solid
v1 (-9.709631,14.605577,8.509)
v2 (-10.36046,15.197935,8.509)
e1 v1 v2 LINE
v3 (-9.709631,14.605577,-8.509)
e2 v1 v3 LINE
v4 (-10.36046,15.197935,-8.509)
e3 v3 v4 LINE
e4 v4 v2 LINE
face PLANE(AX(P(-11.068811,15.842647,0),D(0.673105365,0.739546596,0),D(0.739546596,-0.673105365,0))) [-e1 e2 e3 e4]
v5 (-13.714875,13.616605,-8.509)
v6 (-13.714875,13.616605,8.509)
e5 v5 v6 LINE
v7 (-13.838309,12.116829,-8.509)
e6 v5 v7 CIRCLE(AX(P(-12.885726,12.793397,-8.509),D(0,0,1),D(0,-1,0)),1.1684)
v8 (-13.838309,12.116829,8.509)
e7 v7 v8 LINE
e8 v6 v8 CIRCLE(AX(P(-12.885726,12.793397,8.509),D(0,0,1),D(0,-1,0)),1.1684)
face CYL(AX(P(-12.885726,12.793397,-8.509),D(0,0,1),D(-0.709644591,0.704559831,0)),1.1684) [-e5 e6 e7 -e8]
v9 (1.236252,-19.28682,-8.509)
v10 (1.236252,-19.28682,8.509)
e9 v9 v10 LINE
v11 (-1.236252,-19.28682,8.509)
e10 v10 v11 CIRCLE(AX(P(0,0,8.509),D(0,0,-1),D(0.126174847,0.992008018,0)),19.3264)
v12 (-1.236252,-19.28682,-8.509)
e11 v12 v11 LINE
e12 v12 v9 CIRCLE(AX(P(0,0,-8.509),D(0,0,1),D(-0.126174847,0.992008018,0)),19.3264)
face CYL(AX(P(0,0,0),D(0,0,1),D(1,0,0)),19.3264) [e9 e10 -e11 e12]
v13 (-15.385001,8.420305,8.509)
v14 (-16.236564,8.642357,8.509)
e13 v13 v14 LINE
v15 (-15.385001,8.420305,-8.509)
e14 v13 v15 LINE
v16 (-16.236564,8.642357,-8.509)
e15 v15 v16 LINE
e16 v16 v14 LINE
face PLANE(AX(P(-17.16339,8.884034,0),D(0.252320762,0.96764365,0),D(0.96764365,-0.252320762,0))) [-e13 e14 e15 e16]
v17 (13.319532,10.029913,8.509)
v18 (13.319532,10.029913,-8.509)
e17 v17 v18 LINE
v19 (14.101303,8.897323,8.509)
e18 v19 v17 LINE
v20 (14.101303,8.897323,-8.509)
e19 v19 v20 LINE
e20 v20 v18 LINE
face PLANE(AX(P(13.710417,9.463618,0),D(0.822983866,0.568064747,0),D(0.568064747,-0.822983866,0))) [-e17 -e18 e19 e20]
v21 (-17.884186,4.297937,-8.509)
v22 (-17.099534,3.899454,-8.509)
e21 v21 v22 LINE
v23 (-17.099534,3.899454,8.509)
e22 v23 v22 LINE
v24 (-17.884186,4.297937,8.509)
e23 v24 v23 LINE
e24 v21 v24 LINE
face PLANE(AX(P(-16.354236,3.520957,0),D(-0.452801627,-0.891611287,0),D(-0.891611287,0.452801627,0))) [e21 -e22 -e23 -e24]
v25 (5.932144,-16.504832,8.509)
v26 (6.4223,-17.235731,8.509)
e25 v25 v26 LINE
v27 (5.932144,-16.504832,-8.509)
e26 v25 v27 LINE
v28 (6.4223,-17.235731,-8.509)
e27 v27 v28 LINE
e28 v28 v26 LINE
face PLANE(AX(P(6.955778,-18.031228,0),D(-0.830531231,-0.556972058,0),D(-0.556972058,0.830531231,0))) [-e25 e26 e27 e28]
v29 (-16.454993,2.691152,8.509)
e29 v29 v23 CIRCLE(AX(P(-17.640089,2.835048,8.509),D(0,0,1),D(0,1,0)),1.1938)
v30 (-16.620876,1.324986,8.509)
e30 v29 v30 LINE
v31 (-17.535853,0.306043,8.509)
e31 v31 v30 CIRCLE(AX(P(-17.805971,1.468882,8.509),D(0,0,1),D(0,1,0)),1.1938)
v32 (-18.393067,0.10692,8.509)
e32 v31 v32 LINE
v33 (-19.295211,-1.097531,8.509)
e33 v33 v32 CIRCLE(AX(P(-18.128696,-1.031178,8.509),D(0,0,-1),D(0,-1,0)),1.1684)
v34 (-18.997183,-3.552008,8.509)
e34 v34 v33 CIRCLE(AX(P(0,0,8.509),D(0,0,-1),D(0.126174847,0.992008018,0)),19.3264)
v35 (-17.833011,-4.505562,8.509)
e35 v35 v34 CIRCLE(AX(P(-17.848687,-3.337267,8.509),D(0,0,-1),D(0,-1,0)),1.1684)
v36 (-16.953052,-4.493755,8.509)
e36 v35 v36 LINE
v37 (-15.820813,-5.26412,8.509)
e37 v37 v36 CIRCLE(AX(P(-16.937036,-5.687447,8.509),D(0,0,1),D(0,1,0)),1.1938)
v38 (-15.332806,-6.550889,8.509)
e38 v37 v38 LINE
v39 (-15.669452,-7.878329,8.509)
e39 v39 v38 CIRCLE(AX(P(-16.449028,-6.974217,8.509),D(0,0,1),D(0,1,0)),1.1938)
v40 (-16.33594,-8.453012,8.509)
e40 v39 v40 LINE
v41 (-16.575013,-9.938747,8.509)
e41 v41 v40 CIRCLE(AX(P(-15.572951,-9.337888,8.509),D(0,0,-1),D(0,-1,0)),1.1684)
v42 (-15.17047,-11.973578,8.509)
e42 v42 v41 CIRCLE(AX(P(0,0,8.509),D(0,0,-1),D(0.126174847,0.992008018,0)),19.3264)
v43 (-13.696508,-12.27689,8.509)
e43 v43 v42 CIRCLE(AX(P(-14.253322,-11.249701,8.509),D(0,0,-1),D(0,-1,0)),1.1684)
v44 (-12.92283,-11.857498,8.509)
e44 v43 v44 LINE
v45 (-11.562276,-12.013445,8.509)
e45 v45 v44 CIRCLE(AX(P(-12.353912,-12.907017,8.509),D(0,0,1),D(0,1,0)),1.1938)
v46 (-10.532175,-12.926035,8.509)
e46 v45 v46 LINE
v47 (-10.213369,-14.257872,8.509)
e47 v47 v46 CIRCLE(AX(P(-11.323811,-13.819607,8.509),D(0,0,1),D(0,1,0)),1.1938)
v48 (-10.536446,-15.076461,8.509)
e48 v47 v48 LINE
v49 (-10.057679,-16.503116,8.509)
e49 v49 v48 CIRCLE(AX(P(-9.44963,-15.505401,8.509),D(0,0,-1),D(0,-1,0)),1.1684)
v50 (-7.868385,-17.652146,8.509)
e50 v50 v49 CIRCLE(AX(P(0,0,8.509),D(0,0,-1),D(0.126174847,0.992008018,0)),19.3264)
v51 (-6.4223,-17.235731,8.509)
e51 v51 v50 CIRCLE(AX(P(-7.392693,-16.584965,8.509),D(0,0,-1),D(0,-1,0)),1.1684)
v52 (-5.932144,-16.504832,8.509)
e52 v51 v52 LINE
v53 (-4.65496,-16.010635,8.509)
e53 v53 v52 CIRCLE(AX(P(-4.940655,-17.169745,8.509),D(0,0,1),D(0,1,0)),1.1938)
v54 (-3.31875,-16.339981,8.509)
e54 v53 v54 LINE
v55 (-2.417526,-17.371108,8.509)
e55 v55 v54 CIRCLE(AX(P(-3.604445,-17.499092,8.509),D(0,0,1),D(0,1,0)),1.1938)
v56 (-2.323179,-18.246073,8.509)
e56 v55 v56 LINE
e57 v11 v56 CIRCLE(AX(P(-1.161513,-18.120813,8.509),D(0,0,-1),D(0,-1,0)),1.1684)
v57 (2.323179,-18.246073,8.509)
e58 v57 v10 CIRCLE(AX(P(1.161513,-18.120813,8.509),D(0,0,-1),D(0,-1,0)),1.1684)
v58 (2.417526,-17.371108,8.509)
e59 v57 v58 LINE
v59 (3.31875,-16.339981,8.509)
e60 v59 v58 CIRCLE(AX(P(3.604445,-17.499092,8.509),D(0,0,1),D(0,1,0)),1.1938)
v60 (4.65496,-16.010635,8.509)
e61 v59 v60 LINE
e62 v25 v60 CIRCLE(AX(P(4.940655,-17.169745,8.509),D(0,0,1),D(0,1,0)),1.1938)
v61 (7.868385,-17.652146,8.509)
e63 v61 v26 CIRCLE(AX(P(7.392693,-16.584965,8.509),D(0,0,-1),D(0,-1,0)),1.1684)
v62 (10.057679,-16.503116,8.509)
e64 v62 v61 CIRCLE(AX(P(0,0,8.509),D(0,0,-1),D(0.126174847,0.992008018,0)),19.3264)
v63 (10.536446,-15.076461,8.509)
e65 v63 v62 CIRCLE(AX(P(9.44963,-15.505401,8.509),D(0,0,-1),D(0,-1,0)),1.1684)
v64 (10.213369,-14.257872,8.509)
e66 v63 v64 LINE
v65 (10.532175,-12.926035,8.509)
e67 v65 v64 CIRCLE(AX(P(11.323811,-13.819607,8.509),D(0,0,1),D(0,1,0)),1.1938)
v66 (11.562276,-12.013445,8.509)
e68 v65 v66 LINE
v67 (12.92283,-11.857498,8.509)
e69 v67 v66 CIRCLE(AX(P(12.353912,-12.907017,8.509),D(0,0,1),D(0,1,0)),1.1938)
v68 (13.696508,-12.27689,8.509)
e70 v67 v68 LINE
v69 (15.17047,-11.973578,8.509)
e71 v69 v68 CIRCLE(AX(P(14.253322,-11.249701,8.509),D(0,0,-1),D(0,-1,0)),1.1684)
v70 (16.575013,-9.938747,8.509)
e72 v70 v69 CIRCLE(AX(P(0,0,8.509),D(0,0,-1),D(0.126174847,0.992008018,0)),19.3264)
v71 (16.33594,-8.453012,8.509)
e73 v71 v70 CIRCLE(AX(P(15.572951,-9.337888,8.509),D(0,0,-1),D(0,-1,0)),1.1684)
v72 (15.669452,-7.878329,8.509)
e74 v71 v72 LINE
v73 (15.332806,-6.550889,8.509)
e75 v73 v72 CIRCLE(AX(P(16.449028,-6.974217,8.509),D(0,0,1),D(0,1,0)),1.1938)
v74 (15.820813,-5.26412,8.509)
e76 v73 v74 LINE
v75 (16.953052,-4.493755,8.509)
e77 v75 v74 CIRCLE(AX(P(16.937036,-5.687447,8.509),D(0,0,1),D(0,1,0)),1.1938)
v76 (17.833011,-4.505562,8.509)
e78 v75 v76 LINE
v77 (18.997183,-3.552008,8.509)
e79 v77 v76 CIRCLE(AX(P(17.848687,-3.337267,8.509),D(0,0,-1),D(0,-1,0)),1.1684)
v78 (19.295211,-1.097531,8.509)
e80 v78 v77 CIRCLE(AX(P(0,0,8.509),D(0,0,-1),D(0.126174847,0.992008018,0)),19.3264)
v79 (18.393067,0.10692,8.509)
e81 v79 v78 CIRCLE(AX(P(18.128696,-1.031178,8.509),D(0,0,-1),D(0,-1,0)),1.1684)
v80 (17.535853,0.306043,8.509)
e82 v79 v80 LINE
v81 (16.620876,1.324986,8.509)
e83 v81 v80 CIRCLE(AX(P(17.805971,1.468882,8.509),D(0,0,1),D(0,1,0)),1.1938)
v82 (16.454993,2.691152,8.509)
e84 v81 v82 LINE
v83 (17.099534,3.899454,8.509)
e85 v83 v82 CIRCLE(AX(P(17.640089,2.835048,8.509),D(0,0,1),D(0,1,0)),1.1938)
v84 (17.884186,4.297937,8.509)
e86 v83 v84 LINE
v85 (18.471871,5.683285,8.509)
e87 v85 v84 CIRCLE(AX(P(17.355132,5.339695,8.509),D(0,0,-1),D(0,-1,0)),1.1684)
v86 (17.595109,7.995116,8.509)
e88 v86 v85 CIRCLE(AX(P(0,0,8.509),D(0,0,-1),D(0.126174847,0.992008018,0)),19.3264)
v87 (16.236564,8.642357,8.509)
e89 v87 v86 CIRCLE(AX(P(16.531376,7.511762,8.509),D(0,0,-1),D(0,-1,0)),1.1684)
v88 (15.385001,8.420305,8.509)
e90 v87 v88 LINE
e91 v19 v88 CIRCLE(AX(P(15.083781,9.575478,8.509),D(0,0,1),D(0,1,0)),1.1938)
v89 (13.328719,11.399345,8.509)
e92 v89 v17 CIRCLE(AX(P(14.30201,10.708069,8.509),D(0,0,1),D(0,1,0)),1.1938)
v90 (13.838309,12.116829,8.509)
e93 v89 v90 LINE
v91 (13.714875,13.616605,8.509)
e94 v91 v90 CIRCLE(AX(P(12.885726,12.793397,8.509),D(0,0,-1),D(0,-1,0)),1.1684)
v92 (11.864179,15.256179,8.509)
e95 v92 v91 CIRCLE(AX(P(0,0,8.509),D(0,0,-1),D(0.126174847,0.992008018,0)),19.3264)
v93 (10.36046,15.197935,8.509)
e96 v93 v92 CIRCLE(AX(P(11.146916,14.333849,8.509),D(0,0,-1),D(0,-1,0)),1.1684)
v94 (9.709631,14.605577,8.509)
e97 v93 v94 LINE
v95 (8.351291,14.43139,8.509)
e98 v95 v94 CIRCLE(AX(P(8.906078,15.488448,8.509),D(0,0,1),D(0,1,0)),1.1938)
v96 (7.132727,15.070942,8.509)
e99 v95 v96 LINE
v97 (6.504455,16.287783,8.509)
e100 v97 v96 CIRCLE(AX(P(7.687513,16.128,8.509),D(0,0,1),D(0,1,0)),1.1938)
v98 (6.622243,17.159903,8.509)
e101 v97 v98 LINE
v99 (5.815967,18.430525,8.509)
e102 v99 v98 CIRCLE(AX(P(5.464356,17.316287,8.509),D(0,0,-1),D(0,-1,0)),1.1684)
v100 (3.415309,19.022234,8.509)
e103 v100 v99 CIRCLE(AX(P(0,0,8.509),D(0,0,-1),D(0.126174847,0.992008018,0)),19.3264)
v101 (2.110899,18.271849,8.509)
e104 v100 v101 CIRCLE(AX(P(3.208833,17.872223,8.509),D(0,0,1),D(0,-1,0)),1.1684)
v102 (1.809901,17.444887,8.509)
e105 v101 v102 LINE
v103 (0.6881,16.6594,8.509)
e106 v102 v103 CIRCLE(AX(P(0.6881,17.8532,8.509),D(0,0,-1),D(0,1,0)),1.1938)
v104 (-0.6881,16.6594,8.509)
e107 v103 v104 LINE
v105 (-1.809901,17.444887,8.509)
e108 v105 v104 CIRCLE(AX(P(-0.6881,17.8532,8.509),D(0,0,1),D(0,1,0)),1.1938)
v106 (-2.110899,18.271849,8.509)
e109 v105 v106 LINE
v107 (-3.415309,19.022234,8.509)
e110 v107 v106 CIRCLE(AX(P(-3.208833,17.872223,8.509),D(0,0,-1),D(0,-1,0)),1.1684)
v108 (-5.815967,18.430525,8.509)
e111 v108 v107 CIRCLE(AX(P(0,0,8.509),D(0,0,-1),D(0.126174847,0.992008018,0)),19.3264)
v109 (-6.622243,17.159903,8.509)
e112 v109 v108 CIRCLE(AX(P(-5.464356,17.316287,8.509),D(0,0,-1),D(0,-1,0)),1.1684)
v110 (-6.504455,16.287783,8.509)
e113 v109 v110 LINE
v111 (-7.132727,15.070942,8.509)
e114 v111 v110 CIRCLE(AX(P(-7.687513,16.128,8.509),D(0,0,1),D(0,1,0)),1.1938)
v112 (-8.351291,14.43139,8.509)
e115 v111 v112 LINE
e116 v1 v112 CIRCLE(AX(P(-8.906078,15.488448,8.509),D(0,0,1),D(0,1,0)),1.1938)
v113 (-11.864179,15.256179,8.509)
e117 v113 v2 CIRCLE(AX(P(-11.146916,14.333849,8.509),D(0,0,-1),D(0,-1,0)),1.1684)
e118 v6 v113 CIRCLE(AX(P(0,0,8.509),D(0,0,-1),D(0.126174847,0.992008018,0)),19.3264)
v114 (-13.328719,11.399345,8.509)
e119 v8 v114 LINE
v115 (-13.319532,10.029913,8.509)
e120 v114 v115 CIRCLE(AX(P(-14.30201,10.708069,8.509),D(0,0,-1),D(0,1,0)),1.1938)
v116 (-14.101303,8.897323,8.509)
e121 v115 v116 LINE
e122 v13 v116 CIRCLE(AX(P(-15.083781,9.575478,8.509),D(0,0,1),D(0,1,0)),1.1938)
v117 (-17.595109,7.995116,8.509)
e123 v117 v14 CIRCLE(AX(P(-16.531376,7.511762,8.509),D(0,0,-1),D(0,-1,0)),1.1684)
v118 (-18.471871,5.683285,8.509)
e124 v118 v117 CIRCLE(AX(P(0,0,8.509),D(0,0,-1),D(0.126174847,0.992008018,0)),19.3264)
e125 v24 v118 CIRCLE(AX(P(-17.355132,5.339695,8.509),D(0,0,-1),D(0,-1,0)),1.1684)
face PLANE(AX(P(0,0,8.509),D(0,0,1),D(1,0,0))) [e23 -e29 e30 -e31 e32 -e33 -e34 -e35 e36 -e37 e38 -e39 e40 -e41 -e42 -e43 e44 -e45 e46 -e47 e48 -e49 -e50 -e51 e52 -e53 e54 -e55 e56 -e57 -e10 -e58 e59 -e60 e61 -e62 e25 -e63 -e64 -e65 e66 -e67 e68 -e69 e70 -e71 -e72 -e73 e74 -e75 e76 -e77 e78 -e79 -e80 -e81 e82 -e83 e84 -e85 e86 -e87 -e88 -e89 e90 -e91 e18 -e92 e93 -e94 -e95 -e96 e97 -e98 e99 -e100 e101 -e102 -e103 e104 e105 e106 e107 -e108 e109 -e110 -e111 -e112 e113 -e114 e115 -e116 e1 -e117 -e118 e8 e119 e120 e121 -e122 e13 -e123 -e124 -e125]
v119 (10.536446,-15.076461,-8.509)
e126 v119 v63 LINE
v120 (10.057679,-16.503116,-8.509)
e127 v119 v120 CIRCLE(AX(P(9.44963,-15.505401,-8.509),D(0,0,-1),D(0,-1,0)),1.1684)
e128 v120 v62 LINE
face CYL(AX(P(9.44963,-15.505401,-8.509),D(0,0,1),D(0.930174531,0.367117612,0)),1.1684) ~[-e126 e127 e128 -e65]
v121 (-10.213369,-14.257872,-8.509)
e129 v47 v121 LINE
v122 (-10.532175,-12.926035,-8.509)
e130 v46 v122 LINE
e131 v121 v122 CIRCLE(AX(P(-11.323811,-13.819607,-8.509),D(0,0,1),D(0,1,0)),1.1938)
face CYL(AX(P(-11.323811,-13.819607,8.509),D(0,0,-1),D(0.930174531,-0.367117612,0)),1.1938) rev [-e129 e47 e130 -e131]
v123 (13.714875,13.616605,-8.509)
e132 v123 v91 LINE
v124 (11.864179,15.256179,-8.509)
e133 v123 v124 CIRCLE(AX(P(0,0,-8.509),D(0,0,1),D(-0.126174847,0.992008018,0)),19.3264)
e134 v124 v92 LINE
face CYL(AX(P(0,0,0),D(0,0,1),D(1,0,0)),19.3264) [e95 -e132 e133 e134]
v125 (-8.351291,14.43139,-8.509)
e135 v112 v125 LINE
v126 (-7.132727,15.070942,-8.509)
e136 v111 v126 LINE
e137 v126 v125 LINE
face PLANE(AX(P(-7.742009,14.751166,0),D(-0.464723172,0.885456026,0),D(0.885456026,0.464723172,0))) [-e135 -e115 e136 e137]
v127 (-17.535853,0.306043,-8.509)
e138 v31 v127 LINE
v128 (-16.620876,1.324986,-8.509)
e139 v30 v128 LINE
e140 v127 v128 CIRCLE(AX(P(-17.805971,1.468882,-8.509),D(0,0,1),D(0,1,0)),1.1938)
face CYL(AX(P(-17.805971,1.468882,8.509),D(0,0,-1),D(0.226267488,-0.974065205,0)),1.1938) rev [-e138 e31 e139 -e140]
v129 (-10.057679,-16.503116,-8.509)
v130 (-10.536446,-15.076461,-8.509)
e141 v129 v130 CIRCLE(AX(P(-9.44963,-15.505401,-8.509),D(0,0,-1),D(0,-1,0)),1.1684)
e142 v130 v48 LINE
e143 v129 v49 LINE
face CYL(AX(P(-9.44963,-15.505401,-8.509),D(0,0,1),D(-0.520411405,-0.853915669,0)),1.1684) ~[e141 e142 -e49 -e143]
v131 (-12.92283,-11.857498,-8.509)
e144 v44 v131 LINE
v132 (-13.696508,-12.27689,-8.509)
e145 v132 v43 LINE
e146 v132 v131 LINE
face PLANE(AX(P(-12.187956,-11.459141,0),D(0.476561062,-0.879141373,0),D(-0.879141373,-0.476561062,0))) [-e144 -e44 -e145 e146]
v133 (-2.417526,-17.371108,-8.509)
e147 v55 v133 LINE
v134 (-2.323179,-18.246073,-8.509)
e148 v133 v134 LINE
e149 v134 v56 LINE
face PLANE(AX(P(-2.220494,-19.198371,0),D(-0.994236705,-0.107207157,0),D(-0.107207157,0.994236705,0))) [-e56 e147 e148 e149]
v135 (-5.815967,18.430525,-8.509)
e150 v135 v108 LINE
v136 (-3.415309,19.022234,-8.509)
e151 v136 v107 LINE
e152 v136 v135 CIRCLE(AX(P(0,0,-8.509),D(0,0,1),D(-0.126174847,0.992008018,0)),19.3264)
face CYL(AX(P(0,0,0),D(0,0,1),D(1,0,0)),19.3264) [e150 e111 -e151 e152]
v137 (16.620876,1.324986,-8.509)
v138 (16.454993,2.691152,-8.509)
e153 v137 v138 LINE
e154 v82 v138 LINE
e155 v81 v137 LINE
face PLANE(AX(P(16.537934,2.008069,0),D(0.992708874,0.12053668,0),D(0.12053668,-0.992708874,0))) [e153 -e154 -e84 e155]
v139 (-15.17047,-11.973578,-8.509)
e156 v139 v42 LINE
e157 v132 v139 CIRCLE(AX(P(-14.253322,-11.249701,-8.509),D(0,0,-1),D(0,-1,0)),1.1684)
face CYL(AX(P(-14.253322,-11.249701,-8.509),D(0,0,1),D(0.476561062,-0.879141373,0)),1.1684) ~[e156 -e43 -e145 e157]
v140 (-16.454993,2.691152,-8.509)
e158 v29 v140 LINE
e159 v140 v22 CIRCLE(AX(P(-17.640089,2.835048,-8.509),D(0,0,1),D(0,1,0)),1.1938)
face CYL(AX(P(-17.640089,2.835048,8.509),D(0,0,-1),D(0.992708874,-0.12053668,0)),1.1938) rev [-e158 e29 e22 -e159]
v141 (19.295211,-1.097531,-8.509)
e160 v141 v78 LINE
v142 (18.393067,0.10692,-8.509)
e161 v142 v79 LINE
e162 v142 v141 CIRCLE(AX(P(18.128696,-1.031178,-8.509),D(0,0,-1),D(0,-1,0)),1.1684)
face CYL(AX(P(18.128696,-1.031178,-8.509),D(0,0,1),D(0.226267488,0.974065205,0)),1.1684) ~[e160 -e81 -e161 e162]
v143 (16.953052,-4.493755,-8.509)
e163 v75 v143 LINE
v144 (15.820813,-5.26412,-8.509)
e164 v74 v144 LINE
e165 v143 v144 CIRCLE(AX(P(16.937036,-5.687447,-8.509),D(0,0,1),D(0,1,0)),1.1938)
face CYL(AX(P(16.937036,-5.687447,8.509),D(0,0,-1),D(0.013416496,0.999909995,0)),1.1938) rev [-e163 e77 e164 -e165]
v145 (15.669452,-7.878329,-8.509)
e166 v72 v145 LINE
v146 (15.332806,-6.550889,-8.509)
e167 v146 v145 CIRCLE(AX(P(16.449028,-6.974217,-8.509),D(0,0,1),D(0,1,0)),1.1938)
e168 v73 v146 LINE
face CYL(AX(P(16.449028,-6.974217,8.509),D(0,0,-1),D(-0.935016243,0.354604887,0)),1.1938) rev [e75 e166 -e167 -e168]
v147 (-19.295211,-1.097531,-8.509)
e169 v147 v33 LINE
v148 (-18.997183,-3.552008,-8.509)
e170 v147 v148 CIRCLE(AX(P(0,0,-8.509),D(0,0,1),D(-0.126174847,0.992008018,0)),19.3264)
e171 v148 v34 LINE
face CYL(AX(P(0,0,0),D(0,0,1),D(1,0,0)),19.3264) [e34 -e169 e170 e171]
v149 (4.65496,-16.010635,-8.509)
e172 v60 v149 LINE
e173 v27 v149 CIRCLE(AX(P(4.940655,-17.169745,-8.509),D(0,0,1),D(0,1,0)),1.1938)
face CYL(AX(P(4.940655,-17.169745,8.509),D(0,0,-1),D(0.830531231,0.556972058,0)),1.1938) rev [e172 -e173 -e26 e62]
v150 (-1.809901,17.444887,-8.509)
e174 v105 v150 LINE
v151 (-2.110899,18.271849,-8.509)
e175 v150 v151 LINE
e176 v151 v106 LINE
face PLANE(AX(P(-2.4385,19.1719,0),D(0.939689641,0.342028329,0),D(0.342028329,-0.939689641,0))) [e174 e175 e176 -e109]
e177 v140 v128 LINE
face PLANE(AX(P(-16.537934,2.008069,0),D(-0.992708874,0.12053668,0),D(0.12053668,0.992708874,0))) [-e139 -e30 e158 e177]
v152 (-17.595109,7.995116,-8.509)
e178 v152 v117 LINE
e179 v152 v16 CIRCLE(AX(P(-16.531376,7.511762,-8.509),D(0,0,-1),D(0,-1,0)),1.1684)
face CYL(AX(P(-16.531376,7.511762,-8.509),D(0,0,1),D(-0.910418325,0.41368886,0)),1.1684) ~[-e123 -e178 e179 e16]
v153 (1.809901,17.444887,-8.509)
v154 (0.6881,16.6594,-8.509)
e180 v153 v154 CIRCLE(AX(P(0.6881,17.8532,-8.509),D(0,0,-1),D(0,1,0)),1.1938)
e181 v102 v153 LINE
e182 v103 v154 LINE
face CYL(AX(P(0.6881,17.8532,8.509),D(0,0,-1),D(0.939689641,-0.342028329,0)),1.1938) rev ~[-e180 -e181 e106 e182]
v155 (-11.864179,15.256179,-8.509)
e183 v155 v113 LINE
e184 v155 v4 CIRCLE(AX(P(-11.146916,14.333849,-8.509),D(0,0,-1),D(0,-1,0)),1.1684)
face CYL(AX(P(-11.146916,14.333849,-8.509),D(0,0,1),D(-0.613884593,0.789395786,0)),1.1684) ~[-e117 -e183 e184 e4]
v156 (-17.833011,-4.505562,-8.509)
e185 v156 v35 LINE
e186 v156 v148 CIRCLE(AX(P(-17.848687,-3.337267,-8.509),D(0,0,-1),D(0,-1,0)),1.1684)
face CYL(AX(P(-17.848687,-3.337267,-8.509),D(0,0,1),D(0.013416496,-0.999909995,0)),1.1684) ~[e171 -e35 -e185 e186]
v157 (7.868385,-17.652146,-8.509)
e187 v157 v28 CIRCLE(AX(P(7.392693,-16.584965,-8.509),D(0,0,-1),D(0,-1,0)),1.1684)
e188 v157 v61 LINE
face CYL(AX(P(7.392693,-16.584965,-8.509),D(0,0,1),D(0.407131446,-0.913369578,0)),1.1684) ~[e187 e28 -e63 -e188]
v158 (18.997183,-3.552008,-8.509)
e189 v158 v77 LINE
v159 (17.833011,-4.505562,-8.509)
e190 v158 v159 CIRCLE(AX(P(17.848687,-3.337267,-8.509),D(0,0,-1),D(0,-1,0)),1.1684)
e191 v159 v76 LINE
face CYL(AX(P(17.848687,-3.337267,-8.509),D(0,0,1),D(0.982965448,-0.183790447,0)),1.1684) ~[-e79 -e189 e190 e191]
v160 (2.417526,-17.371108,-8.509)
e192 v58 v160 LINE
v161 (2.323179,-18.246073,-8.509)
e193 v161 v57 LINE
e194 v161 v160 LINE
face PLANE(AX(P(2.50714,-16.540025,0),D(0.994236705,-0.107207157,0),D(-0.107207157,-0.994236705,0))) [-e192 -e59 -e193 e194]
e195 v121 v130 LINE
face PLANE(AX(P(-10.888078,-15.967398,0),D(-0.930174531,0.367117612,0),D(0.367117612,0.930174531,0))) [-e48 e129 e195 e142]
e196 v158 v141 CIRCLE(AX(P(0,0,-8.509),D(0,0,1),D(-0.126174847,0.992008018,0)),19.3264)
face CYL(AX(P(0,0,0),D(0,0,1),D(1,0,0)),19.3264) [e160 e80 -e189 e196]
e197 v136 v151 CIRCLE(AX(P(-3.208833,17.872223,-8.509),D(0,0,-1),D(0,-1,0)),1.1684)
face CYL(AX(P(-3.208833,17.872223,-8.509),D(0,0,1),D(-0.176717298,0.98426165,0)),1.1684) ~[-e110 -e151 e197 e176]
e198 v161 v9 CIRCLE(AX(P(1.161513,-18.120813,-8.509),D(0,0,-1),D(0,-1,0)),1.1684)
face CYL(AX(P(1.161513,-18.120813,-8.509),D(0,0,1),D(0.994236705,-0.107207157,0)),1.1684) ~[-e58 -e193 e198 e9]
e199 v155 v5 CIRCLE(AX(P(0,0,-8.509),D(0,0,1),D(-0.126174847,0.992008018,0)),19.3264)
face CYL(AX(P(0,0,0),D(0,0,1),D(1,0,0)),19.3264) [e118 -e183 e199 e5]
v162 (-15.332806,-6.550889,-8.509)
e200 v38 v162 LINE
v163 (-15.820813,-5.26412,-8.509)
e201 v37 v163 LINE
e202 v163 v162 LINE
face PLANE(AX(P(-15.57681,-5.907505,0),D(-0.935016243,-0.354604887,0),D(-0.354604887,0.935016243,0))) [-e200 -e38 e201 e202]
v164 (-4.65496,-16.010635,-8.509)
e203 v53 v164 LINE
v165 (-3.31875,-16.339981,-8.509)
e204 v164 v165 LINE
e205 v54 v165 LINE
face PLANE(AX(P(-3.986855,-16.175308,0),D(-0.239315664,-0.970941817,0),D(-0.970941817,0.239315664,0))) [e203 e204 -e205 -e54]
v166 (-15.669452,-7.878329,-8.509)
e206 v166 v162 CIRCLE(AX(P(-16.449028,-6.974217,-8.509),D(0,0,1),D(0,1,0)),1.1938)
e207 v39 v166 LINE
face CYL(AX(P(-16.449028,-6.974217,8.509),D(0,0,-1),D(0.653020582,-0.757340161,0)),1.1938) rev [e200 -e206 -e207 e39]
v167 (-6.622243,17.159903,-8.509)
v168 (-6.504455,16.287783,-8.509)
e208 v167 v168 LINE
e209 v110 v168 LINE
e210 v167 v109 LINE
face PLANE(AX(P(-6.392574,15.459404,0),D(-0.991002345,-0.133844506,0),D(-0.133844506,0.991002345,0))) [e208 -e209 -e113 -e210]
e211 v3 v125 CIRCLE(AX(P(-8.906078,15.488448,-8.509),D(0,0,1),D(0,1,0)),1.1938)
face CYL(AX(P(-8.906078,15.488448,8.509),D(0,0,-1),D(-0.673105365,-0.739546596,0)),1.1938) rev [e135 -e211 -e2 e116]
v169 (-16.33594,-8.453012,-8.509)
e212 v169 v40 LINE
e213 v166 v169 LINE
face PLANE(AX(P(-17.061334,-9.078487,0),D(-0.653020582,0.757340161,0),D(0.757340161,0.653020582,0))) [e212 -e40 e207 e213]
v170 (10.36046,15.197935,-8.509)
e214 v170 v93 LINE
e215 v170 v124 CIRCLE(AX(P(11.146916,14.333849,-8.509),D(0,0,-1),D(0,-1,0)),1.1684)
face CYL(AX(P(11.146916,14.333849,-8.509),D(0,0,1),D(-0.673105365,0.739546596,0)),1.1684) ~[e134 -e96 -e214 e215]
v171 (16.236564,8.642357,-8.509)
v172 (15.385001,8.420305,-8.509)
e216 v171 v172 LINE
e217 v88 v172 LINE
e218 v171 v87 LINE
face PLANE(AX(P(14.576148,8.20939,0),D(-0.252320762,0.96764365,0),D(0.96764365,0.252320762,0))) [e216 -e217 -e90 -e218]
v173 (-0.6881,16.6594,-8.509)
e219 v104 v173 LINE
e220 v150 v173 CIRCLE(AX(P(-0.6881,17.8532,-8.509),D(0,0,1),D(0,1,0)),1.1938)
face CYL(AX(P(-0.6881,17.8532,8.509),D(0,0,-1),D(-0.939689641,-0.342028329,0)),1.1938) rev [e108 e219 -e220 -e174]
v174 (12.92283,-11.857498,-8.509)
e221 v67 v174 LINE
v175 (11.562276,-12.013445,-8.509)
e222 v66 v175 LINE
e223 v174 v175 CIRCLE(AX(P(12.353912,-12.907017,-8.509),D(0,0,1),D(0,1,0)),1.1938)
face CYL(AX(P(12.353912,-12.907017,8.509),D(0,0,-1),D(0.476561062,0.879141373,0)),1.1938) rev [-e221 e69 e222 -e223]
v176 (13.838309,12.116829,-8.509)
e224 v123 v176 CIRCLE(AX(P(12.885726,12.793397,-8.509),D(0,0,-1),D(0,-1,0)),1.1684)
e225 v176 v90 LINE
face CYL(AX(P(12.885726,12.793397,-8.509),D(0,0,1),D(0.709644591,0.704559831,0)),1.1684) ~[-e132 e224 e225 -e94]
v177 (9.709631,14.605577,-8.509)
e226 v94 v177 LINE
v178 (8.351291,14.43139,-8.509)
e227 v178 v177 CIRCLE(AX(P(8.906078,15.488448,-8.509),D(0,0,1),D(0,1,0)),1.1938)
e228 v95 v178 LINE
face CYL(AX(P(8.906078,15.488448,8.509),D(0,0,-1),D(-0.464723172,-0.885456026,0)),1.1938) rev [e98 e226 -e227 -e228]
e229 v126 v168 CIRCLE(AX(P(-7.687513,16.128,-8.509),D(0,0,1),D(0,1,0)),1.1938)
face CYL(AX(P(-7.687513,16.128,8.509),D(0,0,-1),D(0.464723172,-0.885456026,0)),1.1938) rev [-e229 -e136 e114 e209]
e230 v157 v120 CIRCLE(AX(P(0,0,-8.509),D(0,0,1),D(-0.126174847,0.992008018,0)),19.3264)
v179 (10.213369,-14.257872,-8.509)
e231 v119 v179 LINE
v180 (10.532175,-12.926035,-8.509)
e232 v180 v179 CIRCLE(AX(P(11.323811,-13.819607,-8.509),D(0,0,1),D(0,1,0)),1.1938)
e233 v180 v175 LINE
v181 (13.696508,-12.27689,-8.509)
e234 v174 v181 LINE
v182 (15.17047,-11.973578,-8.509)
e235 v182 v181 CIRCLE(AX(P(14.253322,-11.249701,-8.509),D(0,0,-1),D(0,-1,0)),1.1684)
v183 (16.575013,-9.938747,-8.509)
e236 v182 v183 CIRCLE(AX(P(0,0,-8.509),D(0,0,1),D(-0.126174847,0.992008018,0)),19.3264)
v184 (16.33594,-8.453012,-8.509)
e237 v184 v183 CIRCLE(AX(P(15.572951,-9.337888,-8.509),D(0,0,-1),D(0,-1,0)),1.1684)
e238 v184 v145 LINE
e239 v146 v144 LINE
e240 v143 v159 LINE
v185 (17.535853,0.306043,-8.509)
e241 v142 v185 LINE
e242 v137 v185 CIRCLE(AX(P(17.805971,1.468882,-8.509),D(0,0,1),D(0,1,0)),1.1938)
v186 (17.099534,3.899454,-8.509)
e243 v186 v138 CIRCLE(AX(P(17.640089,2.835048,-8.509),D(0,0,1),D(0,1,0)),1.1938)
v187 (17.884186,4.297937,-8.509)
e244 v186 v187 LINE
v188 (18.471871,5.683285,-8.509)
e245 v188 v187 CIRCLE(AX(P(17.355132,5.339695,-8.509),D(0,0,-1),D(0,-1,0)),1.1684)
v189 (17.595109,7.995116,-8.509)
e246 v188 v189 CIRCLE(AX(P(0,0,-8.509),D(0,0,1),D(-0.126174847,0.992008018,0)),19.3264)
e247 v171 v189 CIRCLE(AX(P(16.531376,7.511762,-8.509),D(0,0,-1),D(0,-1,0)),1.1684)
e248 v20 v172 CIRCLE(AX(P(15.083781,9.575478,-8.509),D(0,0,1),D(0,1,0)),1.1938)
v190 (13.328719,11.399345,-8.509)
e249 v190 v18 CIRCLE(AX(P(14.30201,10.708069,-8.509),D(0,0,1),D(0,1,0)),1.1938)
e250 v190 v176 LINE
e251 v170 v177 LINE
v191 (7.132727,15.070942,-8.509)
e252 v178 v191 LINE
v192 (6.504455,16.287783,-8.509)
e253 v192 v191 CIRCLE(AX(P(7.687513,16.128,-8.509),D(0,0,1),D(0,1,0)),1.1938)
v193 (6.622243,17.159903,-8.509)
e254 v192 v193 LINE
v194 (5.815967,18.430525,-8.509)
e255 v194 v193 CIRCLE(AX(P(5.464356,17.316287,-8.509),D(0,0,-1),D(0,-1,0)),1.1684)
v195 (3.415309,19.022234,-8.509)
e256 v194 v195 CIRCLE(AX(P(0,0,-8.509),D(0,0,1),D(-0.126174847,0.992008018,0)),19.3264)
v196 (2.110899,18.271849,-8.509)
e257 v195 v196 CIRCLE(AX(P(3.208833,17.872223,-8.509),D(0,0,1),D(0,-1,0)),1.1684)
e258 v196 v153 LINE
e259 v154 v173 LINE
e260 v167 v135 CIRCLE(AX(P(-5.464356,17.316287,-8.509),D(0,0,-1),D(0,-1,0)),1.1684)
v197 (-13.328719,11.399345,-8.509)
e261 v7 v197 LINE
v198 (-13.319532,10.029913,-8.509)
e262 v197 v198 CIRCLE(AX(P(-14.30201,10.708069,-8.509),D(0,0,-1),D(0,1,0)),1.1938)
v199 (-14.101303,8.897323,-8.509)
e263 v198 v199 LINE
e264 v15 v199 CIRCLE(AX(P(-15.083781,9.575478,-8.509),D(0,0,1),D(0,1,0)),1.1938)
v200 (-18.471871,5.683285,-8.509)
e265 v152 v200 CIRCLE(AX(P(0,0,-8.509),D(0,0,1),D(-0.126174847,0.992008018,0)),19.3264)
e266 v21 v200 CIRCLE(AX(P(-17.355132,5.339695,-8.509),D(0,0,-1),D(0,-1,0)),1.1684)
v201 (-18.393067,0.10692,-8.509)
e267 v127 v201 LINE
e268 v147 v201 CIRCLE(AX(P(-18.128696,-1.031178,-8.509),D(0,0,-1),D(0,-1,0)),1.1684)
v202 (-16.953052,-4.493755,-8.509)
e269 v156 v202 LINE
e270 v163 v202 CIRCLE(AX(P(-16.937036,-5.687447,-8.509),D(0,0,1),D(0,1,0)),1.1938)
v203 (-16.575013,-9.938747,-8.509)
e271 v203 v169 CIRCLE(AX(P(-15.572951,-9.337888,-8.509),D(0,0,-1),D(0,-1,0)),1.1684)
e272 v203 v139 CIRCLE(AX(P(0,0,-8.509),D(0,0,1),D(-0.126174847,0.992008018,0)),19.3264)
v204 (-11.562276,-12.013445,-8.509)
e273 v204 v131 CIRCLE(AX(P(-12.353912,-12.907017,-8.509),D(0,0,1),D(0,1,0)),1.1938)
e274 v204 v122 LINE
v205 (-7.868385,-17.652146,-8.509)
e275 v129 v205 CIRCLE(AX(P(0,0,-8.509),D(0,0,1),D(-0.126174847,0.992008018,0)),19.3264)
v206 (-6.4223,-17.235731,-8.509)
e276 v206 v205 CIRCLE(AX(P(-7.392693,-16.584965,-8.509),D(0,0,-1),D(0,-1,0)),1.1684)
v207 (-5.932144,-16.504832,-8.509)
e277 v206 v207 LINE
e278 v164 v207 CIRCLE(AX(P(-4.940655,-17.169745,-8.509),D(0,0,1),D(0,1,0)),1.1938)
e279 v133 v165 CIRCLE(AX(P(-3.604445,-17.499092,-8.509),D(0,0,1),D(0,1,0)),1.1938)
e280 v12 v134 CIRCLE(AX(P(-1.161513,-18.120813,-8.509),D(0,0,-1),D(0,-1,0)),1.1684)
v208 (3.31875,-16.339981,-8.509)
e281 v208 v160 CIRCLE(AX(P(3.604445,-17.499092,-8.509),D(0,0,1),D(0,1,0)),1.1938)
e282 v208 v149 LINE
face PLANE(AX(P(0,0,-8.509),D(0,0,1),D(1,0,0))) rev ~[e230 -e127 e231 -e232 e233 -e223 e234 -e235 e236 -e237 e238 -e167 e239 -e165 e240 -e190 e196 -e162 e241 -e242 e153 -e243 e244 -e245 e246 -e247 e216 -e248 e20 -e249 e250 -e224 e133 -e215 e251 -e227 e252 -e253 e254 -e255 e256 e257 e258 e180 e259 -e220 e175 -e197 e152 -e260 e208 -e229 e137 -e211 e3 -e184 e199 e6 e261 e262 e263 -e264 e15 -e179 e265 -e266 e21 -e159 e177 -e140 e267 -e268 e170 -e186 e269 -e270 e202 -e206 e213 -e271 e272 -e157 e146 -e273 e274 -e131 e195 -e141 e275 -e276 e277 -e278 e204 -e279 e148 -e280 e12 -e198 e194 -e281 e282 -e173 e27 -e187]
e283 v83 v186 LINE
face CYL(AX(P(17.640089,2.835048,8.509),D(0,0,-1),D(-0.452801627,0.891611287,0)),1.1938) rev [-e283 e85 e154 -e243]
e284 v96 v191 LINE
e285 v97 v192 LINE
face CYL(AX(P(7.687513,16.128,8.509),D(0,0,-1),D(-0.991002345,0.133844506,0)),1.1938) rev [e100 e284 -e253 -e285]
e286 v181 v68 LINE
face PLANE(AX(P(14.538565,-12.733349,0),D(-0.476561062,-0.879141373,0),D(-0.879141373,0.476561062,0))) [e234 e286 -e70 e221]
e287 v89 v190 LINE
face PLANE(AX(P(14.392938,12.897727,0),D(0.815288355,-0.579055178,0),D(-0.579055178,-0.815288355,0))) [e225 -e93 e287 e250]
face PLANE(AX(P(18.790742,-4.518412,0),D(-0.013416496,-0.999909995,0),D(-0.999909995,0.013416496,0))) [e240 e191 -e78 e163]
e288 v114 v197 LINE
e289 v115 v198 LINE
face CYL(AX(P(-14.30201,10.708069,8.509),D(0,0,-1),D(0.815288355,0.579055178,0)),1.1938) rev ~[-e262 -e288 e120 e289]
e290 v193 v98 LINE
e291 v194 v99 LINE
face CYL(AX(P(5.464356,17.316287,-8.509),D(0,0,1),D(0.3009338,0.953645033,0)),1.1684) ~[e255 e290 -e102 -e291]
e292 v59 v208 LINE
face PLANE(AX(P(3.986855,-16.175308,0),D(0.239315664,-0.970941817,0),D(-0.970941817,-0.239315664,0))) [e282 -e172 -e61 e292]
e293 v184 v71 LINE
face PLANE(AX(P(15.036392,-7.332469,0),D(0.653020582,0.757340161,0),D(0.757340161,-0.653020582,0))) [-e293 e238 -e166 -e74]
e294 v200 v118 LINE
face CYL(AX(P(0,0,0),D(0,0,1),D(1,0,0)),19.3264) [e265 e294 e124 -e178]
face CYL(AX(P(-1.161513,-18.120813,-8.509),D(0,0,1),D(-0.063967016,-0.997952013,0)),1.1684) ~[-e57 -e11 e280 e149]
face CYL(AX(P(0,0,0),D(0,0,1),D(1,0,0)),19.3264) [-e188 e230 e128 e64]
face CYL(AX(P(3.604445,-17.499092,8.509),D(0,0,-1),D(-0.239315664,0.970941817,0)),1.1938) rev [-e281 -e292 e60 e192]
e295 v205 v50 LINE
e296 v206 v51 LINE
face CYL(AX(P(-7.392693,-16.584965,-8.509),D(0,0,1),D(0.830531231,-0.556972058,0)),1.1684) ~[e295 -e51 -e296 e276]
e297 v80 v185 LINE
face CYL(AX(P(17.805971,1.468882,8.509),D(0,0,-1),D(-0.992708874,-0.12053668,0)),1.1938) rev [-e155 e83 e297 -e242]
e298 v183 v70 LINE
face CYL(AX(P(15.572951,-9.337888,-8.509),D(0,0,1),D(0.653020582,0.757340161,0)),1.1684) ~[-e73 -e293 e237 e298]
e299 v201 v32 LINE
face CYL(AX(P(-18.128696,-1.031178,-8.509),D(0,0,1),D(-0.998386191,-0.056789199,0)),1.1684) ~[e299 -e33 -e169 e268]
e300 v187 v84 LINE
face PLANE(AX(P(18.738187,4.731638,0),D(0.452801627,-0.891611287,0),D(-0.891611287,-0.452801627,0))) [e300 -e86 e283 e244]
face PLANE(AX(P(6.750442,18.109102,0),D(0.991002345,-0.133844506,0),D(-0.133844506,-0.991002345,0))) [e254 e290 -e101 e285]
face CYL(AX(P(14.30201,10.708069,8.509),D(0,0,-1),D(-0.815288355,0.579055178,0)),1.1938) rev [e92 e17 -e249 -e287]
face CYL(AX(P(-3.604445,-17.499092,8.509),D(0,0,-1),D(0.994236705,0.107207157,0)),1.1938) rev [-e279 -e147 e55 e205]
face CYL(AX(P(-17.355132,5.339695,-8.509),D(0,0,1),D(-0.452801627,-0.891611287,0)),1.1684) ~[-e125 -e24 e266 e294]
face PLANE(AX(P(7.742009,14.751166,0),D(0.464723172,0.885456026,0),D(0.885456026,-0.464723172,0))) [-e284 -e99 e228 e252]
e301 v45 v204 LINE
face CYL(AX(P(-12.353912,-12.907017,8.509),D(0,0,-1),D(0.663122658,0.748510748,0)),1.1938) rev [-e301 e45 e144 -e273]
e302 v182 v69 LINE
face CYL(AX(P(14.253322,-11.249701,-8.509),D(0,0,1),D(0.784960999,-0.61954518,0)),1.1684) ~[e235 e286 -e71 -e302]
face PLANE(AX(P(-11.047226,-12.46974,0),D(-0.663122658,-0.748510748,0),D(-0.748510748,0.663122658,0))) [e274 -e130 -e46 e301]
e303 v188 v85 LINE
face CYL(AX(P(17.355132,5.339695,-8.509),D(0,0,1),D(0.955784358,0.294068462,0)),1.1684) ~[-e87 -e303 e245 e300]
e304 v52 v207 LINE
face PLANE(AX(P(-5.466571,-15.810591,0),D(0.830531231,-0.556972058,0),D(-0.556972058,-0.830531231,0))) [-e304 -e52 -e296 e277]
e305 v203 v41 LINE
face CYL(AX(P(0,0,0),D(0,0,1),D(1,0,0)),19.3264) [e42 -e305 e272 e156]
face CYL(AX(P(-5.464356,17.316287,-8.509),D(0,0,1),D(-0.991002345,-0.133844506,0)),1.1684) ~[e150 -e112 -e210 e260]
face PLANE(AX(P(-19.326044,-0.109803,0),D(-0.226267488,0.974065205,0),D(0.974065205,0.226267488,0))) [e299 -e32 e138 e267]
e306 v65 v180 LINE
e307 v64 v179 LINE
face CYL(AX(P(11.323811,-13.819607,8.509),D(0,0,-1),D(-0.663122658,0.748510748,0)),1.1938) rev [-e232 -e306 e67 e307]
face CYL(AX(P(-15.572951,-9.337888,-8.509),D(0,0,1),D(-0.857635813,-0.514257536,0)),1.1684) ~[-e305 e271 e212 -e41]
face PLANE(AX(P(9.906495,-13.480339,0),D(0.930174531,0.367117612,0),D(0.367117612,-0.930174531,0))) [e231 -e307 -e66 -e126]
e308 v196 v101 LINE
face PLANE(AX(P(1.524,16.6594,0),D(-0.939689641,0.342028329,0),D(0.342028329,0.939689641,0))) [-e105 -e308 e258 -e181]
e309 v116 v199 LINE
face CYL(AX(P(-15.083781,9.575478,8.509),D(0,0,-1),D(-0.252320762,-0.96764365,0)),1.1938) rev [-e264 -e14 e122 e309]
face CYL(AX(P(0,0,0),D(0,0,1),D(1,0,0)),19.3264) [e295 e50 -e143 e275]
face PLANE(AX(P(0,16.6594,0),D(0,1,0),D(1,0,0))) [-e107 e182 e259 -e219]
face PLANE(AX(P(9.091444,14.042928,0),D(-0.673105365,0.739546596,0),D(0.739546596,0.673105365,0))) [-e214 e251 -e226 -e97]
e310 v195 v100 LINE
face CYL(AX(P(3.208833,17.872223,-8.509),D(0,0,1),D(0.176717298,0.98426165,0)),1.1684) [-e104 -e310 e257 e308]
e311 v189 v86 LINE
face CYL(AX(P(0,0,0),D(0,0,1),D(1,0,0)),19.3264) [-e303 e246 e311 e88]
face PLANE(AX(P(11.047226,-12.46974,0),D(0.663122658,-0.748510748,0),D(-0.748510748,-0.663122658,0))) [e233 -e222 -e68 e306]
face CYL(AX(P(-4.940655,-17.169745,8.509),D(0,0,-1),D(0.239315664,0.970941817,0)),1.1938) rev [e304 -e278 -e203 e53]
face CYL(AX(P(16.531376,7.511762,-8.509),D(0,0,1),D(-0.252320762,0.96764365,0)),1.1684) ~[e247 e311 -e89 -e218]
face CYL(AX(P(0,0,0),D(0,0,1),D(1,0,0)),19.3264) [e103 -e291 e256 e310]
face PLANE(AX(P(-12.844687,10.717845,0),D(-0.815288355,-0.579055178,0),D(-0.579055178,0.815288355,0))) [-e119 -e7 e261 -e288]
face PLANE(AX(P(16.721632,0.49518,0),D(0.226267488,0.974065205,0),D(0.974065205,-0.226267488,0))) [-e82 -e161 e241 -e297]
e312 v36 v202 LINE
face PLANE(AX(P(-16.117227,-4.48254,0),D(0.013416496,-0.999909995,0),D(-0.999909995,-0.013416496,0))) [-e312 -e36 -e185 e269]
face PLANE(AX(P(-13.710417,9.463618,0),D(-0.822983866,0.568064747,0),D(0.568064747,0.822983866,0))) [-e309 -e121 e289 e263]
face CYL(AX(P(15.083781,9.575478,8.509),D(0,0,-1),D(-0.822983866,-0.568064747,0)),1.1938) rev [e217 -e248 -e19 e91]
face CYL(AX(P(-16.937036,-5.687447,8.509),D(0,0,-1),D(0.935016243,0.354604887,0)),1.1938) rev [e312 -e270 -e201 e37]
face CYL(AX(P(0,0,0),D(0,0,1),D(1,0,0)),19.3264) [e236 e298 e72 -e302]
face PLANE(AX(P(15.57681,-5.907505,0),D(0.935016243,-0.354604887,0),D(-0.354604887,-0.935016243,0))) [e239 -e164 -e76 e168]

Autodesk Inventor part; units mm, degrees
ref_plane "YZ Plane" through (0, 0, 0) normal (1, 0, 0) x (0, 1, 0)
ref_plane "XZ Plane" through (0, 0, 0) normal (0, 1, 0) x (-1, 0, 0)
ref_plane "XY Plane" through (0, 0, 0) normal (0, 0, 1) x (1, 0, 0)
sketch "Эскиз шкива" plane through (0, 0, 0) normal (0, 0, 1) x (1, 0, 0)
  circle A0 centre (0, 0) radius 19.7074 construction
  circle A1 centre (0, 0) radius 19.3264
  circle A2 centre (0, 0) radius 16.6594
  line L0 (-2.4385, 19.1719) -> (-1.524, 16.6594)
  line L1 (-1.524, 16.6594) -> (1.524, 16.6594)
  line L2 (1.524, 16.6594) -> (2.4385, 19.1719)
  line L3 (0, 0) -> (0, 19.3264) construction
  point P0 (0, 16.6594)
  dimension "d0" = 39.4147
  dimension "d1" = 0.381
  dimension "d2" = 2.667
  dimension "d3" = 40
  dimension "d4" = 3.048
extrude "Базовое тело" add sketch "Эскиз шкива" along normal mid plane 17.018 contours A2 | A1 L0 L1 L2 | L2 L1 L0 A1
extrude "Зуб" cut sketch "Эскиз шкива" along normal through all both and the other way through all contours L2 L1 L0 A1 picked at (0, 18.4259)
fillet "Fillet" radius 1.1938 2 edges at (1.524, 16.6594, 0) (-1.524, 16.6594, 0)
fillet "Fillet" radius 1.1684 4 edges at (-2.4385, 19.1719, 4.2545) (-2.4385, 19.1719, -4.2545) (2.4385, 19.1719, 4.2545) (2.4385, 19.1719, -4.2545)
pattern_circular "Зубья" count 13 over 360 about axis through (0, 0, -10) along (0, 0, 1) of "Зуб", "Fillet"
feature "Левый фланец" [suppressed]
feature "Правый фланец" [suppressed]
equation "\"d1\" = da_a"
equation "\"d2\" = da_hg"
equation "\"d3\" = 2 * da_fi"
equation "\"d4\" = da_bw"
equation "\"d5\" = da_bf"
equation "\"d7\" = da_bf"
equation "\"d9\" = da_rb"
equation "\"d10\" = da_rt"
equation "\"da_pb\" = 9.525"
equation "\"da_fi\" = 20deg"
equation "\"da_hg\" = 2.667"
equation "\"da_bw\" = 3.048"
equation "\"da_rb\" = 1.1938"
equation "\"da_rt\" = 1.1684"
equation "\"da_a\" = 0.381"
equation "\"da_bf\" = 17.018"
equation "\"da_wf\" = 1.5"
equation "\"da_hf\" = 1.5"
properties part number "Синхронный шкив3" material "Steel"
